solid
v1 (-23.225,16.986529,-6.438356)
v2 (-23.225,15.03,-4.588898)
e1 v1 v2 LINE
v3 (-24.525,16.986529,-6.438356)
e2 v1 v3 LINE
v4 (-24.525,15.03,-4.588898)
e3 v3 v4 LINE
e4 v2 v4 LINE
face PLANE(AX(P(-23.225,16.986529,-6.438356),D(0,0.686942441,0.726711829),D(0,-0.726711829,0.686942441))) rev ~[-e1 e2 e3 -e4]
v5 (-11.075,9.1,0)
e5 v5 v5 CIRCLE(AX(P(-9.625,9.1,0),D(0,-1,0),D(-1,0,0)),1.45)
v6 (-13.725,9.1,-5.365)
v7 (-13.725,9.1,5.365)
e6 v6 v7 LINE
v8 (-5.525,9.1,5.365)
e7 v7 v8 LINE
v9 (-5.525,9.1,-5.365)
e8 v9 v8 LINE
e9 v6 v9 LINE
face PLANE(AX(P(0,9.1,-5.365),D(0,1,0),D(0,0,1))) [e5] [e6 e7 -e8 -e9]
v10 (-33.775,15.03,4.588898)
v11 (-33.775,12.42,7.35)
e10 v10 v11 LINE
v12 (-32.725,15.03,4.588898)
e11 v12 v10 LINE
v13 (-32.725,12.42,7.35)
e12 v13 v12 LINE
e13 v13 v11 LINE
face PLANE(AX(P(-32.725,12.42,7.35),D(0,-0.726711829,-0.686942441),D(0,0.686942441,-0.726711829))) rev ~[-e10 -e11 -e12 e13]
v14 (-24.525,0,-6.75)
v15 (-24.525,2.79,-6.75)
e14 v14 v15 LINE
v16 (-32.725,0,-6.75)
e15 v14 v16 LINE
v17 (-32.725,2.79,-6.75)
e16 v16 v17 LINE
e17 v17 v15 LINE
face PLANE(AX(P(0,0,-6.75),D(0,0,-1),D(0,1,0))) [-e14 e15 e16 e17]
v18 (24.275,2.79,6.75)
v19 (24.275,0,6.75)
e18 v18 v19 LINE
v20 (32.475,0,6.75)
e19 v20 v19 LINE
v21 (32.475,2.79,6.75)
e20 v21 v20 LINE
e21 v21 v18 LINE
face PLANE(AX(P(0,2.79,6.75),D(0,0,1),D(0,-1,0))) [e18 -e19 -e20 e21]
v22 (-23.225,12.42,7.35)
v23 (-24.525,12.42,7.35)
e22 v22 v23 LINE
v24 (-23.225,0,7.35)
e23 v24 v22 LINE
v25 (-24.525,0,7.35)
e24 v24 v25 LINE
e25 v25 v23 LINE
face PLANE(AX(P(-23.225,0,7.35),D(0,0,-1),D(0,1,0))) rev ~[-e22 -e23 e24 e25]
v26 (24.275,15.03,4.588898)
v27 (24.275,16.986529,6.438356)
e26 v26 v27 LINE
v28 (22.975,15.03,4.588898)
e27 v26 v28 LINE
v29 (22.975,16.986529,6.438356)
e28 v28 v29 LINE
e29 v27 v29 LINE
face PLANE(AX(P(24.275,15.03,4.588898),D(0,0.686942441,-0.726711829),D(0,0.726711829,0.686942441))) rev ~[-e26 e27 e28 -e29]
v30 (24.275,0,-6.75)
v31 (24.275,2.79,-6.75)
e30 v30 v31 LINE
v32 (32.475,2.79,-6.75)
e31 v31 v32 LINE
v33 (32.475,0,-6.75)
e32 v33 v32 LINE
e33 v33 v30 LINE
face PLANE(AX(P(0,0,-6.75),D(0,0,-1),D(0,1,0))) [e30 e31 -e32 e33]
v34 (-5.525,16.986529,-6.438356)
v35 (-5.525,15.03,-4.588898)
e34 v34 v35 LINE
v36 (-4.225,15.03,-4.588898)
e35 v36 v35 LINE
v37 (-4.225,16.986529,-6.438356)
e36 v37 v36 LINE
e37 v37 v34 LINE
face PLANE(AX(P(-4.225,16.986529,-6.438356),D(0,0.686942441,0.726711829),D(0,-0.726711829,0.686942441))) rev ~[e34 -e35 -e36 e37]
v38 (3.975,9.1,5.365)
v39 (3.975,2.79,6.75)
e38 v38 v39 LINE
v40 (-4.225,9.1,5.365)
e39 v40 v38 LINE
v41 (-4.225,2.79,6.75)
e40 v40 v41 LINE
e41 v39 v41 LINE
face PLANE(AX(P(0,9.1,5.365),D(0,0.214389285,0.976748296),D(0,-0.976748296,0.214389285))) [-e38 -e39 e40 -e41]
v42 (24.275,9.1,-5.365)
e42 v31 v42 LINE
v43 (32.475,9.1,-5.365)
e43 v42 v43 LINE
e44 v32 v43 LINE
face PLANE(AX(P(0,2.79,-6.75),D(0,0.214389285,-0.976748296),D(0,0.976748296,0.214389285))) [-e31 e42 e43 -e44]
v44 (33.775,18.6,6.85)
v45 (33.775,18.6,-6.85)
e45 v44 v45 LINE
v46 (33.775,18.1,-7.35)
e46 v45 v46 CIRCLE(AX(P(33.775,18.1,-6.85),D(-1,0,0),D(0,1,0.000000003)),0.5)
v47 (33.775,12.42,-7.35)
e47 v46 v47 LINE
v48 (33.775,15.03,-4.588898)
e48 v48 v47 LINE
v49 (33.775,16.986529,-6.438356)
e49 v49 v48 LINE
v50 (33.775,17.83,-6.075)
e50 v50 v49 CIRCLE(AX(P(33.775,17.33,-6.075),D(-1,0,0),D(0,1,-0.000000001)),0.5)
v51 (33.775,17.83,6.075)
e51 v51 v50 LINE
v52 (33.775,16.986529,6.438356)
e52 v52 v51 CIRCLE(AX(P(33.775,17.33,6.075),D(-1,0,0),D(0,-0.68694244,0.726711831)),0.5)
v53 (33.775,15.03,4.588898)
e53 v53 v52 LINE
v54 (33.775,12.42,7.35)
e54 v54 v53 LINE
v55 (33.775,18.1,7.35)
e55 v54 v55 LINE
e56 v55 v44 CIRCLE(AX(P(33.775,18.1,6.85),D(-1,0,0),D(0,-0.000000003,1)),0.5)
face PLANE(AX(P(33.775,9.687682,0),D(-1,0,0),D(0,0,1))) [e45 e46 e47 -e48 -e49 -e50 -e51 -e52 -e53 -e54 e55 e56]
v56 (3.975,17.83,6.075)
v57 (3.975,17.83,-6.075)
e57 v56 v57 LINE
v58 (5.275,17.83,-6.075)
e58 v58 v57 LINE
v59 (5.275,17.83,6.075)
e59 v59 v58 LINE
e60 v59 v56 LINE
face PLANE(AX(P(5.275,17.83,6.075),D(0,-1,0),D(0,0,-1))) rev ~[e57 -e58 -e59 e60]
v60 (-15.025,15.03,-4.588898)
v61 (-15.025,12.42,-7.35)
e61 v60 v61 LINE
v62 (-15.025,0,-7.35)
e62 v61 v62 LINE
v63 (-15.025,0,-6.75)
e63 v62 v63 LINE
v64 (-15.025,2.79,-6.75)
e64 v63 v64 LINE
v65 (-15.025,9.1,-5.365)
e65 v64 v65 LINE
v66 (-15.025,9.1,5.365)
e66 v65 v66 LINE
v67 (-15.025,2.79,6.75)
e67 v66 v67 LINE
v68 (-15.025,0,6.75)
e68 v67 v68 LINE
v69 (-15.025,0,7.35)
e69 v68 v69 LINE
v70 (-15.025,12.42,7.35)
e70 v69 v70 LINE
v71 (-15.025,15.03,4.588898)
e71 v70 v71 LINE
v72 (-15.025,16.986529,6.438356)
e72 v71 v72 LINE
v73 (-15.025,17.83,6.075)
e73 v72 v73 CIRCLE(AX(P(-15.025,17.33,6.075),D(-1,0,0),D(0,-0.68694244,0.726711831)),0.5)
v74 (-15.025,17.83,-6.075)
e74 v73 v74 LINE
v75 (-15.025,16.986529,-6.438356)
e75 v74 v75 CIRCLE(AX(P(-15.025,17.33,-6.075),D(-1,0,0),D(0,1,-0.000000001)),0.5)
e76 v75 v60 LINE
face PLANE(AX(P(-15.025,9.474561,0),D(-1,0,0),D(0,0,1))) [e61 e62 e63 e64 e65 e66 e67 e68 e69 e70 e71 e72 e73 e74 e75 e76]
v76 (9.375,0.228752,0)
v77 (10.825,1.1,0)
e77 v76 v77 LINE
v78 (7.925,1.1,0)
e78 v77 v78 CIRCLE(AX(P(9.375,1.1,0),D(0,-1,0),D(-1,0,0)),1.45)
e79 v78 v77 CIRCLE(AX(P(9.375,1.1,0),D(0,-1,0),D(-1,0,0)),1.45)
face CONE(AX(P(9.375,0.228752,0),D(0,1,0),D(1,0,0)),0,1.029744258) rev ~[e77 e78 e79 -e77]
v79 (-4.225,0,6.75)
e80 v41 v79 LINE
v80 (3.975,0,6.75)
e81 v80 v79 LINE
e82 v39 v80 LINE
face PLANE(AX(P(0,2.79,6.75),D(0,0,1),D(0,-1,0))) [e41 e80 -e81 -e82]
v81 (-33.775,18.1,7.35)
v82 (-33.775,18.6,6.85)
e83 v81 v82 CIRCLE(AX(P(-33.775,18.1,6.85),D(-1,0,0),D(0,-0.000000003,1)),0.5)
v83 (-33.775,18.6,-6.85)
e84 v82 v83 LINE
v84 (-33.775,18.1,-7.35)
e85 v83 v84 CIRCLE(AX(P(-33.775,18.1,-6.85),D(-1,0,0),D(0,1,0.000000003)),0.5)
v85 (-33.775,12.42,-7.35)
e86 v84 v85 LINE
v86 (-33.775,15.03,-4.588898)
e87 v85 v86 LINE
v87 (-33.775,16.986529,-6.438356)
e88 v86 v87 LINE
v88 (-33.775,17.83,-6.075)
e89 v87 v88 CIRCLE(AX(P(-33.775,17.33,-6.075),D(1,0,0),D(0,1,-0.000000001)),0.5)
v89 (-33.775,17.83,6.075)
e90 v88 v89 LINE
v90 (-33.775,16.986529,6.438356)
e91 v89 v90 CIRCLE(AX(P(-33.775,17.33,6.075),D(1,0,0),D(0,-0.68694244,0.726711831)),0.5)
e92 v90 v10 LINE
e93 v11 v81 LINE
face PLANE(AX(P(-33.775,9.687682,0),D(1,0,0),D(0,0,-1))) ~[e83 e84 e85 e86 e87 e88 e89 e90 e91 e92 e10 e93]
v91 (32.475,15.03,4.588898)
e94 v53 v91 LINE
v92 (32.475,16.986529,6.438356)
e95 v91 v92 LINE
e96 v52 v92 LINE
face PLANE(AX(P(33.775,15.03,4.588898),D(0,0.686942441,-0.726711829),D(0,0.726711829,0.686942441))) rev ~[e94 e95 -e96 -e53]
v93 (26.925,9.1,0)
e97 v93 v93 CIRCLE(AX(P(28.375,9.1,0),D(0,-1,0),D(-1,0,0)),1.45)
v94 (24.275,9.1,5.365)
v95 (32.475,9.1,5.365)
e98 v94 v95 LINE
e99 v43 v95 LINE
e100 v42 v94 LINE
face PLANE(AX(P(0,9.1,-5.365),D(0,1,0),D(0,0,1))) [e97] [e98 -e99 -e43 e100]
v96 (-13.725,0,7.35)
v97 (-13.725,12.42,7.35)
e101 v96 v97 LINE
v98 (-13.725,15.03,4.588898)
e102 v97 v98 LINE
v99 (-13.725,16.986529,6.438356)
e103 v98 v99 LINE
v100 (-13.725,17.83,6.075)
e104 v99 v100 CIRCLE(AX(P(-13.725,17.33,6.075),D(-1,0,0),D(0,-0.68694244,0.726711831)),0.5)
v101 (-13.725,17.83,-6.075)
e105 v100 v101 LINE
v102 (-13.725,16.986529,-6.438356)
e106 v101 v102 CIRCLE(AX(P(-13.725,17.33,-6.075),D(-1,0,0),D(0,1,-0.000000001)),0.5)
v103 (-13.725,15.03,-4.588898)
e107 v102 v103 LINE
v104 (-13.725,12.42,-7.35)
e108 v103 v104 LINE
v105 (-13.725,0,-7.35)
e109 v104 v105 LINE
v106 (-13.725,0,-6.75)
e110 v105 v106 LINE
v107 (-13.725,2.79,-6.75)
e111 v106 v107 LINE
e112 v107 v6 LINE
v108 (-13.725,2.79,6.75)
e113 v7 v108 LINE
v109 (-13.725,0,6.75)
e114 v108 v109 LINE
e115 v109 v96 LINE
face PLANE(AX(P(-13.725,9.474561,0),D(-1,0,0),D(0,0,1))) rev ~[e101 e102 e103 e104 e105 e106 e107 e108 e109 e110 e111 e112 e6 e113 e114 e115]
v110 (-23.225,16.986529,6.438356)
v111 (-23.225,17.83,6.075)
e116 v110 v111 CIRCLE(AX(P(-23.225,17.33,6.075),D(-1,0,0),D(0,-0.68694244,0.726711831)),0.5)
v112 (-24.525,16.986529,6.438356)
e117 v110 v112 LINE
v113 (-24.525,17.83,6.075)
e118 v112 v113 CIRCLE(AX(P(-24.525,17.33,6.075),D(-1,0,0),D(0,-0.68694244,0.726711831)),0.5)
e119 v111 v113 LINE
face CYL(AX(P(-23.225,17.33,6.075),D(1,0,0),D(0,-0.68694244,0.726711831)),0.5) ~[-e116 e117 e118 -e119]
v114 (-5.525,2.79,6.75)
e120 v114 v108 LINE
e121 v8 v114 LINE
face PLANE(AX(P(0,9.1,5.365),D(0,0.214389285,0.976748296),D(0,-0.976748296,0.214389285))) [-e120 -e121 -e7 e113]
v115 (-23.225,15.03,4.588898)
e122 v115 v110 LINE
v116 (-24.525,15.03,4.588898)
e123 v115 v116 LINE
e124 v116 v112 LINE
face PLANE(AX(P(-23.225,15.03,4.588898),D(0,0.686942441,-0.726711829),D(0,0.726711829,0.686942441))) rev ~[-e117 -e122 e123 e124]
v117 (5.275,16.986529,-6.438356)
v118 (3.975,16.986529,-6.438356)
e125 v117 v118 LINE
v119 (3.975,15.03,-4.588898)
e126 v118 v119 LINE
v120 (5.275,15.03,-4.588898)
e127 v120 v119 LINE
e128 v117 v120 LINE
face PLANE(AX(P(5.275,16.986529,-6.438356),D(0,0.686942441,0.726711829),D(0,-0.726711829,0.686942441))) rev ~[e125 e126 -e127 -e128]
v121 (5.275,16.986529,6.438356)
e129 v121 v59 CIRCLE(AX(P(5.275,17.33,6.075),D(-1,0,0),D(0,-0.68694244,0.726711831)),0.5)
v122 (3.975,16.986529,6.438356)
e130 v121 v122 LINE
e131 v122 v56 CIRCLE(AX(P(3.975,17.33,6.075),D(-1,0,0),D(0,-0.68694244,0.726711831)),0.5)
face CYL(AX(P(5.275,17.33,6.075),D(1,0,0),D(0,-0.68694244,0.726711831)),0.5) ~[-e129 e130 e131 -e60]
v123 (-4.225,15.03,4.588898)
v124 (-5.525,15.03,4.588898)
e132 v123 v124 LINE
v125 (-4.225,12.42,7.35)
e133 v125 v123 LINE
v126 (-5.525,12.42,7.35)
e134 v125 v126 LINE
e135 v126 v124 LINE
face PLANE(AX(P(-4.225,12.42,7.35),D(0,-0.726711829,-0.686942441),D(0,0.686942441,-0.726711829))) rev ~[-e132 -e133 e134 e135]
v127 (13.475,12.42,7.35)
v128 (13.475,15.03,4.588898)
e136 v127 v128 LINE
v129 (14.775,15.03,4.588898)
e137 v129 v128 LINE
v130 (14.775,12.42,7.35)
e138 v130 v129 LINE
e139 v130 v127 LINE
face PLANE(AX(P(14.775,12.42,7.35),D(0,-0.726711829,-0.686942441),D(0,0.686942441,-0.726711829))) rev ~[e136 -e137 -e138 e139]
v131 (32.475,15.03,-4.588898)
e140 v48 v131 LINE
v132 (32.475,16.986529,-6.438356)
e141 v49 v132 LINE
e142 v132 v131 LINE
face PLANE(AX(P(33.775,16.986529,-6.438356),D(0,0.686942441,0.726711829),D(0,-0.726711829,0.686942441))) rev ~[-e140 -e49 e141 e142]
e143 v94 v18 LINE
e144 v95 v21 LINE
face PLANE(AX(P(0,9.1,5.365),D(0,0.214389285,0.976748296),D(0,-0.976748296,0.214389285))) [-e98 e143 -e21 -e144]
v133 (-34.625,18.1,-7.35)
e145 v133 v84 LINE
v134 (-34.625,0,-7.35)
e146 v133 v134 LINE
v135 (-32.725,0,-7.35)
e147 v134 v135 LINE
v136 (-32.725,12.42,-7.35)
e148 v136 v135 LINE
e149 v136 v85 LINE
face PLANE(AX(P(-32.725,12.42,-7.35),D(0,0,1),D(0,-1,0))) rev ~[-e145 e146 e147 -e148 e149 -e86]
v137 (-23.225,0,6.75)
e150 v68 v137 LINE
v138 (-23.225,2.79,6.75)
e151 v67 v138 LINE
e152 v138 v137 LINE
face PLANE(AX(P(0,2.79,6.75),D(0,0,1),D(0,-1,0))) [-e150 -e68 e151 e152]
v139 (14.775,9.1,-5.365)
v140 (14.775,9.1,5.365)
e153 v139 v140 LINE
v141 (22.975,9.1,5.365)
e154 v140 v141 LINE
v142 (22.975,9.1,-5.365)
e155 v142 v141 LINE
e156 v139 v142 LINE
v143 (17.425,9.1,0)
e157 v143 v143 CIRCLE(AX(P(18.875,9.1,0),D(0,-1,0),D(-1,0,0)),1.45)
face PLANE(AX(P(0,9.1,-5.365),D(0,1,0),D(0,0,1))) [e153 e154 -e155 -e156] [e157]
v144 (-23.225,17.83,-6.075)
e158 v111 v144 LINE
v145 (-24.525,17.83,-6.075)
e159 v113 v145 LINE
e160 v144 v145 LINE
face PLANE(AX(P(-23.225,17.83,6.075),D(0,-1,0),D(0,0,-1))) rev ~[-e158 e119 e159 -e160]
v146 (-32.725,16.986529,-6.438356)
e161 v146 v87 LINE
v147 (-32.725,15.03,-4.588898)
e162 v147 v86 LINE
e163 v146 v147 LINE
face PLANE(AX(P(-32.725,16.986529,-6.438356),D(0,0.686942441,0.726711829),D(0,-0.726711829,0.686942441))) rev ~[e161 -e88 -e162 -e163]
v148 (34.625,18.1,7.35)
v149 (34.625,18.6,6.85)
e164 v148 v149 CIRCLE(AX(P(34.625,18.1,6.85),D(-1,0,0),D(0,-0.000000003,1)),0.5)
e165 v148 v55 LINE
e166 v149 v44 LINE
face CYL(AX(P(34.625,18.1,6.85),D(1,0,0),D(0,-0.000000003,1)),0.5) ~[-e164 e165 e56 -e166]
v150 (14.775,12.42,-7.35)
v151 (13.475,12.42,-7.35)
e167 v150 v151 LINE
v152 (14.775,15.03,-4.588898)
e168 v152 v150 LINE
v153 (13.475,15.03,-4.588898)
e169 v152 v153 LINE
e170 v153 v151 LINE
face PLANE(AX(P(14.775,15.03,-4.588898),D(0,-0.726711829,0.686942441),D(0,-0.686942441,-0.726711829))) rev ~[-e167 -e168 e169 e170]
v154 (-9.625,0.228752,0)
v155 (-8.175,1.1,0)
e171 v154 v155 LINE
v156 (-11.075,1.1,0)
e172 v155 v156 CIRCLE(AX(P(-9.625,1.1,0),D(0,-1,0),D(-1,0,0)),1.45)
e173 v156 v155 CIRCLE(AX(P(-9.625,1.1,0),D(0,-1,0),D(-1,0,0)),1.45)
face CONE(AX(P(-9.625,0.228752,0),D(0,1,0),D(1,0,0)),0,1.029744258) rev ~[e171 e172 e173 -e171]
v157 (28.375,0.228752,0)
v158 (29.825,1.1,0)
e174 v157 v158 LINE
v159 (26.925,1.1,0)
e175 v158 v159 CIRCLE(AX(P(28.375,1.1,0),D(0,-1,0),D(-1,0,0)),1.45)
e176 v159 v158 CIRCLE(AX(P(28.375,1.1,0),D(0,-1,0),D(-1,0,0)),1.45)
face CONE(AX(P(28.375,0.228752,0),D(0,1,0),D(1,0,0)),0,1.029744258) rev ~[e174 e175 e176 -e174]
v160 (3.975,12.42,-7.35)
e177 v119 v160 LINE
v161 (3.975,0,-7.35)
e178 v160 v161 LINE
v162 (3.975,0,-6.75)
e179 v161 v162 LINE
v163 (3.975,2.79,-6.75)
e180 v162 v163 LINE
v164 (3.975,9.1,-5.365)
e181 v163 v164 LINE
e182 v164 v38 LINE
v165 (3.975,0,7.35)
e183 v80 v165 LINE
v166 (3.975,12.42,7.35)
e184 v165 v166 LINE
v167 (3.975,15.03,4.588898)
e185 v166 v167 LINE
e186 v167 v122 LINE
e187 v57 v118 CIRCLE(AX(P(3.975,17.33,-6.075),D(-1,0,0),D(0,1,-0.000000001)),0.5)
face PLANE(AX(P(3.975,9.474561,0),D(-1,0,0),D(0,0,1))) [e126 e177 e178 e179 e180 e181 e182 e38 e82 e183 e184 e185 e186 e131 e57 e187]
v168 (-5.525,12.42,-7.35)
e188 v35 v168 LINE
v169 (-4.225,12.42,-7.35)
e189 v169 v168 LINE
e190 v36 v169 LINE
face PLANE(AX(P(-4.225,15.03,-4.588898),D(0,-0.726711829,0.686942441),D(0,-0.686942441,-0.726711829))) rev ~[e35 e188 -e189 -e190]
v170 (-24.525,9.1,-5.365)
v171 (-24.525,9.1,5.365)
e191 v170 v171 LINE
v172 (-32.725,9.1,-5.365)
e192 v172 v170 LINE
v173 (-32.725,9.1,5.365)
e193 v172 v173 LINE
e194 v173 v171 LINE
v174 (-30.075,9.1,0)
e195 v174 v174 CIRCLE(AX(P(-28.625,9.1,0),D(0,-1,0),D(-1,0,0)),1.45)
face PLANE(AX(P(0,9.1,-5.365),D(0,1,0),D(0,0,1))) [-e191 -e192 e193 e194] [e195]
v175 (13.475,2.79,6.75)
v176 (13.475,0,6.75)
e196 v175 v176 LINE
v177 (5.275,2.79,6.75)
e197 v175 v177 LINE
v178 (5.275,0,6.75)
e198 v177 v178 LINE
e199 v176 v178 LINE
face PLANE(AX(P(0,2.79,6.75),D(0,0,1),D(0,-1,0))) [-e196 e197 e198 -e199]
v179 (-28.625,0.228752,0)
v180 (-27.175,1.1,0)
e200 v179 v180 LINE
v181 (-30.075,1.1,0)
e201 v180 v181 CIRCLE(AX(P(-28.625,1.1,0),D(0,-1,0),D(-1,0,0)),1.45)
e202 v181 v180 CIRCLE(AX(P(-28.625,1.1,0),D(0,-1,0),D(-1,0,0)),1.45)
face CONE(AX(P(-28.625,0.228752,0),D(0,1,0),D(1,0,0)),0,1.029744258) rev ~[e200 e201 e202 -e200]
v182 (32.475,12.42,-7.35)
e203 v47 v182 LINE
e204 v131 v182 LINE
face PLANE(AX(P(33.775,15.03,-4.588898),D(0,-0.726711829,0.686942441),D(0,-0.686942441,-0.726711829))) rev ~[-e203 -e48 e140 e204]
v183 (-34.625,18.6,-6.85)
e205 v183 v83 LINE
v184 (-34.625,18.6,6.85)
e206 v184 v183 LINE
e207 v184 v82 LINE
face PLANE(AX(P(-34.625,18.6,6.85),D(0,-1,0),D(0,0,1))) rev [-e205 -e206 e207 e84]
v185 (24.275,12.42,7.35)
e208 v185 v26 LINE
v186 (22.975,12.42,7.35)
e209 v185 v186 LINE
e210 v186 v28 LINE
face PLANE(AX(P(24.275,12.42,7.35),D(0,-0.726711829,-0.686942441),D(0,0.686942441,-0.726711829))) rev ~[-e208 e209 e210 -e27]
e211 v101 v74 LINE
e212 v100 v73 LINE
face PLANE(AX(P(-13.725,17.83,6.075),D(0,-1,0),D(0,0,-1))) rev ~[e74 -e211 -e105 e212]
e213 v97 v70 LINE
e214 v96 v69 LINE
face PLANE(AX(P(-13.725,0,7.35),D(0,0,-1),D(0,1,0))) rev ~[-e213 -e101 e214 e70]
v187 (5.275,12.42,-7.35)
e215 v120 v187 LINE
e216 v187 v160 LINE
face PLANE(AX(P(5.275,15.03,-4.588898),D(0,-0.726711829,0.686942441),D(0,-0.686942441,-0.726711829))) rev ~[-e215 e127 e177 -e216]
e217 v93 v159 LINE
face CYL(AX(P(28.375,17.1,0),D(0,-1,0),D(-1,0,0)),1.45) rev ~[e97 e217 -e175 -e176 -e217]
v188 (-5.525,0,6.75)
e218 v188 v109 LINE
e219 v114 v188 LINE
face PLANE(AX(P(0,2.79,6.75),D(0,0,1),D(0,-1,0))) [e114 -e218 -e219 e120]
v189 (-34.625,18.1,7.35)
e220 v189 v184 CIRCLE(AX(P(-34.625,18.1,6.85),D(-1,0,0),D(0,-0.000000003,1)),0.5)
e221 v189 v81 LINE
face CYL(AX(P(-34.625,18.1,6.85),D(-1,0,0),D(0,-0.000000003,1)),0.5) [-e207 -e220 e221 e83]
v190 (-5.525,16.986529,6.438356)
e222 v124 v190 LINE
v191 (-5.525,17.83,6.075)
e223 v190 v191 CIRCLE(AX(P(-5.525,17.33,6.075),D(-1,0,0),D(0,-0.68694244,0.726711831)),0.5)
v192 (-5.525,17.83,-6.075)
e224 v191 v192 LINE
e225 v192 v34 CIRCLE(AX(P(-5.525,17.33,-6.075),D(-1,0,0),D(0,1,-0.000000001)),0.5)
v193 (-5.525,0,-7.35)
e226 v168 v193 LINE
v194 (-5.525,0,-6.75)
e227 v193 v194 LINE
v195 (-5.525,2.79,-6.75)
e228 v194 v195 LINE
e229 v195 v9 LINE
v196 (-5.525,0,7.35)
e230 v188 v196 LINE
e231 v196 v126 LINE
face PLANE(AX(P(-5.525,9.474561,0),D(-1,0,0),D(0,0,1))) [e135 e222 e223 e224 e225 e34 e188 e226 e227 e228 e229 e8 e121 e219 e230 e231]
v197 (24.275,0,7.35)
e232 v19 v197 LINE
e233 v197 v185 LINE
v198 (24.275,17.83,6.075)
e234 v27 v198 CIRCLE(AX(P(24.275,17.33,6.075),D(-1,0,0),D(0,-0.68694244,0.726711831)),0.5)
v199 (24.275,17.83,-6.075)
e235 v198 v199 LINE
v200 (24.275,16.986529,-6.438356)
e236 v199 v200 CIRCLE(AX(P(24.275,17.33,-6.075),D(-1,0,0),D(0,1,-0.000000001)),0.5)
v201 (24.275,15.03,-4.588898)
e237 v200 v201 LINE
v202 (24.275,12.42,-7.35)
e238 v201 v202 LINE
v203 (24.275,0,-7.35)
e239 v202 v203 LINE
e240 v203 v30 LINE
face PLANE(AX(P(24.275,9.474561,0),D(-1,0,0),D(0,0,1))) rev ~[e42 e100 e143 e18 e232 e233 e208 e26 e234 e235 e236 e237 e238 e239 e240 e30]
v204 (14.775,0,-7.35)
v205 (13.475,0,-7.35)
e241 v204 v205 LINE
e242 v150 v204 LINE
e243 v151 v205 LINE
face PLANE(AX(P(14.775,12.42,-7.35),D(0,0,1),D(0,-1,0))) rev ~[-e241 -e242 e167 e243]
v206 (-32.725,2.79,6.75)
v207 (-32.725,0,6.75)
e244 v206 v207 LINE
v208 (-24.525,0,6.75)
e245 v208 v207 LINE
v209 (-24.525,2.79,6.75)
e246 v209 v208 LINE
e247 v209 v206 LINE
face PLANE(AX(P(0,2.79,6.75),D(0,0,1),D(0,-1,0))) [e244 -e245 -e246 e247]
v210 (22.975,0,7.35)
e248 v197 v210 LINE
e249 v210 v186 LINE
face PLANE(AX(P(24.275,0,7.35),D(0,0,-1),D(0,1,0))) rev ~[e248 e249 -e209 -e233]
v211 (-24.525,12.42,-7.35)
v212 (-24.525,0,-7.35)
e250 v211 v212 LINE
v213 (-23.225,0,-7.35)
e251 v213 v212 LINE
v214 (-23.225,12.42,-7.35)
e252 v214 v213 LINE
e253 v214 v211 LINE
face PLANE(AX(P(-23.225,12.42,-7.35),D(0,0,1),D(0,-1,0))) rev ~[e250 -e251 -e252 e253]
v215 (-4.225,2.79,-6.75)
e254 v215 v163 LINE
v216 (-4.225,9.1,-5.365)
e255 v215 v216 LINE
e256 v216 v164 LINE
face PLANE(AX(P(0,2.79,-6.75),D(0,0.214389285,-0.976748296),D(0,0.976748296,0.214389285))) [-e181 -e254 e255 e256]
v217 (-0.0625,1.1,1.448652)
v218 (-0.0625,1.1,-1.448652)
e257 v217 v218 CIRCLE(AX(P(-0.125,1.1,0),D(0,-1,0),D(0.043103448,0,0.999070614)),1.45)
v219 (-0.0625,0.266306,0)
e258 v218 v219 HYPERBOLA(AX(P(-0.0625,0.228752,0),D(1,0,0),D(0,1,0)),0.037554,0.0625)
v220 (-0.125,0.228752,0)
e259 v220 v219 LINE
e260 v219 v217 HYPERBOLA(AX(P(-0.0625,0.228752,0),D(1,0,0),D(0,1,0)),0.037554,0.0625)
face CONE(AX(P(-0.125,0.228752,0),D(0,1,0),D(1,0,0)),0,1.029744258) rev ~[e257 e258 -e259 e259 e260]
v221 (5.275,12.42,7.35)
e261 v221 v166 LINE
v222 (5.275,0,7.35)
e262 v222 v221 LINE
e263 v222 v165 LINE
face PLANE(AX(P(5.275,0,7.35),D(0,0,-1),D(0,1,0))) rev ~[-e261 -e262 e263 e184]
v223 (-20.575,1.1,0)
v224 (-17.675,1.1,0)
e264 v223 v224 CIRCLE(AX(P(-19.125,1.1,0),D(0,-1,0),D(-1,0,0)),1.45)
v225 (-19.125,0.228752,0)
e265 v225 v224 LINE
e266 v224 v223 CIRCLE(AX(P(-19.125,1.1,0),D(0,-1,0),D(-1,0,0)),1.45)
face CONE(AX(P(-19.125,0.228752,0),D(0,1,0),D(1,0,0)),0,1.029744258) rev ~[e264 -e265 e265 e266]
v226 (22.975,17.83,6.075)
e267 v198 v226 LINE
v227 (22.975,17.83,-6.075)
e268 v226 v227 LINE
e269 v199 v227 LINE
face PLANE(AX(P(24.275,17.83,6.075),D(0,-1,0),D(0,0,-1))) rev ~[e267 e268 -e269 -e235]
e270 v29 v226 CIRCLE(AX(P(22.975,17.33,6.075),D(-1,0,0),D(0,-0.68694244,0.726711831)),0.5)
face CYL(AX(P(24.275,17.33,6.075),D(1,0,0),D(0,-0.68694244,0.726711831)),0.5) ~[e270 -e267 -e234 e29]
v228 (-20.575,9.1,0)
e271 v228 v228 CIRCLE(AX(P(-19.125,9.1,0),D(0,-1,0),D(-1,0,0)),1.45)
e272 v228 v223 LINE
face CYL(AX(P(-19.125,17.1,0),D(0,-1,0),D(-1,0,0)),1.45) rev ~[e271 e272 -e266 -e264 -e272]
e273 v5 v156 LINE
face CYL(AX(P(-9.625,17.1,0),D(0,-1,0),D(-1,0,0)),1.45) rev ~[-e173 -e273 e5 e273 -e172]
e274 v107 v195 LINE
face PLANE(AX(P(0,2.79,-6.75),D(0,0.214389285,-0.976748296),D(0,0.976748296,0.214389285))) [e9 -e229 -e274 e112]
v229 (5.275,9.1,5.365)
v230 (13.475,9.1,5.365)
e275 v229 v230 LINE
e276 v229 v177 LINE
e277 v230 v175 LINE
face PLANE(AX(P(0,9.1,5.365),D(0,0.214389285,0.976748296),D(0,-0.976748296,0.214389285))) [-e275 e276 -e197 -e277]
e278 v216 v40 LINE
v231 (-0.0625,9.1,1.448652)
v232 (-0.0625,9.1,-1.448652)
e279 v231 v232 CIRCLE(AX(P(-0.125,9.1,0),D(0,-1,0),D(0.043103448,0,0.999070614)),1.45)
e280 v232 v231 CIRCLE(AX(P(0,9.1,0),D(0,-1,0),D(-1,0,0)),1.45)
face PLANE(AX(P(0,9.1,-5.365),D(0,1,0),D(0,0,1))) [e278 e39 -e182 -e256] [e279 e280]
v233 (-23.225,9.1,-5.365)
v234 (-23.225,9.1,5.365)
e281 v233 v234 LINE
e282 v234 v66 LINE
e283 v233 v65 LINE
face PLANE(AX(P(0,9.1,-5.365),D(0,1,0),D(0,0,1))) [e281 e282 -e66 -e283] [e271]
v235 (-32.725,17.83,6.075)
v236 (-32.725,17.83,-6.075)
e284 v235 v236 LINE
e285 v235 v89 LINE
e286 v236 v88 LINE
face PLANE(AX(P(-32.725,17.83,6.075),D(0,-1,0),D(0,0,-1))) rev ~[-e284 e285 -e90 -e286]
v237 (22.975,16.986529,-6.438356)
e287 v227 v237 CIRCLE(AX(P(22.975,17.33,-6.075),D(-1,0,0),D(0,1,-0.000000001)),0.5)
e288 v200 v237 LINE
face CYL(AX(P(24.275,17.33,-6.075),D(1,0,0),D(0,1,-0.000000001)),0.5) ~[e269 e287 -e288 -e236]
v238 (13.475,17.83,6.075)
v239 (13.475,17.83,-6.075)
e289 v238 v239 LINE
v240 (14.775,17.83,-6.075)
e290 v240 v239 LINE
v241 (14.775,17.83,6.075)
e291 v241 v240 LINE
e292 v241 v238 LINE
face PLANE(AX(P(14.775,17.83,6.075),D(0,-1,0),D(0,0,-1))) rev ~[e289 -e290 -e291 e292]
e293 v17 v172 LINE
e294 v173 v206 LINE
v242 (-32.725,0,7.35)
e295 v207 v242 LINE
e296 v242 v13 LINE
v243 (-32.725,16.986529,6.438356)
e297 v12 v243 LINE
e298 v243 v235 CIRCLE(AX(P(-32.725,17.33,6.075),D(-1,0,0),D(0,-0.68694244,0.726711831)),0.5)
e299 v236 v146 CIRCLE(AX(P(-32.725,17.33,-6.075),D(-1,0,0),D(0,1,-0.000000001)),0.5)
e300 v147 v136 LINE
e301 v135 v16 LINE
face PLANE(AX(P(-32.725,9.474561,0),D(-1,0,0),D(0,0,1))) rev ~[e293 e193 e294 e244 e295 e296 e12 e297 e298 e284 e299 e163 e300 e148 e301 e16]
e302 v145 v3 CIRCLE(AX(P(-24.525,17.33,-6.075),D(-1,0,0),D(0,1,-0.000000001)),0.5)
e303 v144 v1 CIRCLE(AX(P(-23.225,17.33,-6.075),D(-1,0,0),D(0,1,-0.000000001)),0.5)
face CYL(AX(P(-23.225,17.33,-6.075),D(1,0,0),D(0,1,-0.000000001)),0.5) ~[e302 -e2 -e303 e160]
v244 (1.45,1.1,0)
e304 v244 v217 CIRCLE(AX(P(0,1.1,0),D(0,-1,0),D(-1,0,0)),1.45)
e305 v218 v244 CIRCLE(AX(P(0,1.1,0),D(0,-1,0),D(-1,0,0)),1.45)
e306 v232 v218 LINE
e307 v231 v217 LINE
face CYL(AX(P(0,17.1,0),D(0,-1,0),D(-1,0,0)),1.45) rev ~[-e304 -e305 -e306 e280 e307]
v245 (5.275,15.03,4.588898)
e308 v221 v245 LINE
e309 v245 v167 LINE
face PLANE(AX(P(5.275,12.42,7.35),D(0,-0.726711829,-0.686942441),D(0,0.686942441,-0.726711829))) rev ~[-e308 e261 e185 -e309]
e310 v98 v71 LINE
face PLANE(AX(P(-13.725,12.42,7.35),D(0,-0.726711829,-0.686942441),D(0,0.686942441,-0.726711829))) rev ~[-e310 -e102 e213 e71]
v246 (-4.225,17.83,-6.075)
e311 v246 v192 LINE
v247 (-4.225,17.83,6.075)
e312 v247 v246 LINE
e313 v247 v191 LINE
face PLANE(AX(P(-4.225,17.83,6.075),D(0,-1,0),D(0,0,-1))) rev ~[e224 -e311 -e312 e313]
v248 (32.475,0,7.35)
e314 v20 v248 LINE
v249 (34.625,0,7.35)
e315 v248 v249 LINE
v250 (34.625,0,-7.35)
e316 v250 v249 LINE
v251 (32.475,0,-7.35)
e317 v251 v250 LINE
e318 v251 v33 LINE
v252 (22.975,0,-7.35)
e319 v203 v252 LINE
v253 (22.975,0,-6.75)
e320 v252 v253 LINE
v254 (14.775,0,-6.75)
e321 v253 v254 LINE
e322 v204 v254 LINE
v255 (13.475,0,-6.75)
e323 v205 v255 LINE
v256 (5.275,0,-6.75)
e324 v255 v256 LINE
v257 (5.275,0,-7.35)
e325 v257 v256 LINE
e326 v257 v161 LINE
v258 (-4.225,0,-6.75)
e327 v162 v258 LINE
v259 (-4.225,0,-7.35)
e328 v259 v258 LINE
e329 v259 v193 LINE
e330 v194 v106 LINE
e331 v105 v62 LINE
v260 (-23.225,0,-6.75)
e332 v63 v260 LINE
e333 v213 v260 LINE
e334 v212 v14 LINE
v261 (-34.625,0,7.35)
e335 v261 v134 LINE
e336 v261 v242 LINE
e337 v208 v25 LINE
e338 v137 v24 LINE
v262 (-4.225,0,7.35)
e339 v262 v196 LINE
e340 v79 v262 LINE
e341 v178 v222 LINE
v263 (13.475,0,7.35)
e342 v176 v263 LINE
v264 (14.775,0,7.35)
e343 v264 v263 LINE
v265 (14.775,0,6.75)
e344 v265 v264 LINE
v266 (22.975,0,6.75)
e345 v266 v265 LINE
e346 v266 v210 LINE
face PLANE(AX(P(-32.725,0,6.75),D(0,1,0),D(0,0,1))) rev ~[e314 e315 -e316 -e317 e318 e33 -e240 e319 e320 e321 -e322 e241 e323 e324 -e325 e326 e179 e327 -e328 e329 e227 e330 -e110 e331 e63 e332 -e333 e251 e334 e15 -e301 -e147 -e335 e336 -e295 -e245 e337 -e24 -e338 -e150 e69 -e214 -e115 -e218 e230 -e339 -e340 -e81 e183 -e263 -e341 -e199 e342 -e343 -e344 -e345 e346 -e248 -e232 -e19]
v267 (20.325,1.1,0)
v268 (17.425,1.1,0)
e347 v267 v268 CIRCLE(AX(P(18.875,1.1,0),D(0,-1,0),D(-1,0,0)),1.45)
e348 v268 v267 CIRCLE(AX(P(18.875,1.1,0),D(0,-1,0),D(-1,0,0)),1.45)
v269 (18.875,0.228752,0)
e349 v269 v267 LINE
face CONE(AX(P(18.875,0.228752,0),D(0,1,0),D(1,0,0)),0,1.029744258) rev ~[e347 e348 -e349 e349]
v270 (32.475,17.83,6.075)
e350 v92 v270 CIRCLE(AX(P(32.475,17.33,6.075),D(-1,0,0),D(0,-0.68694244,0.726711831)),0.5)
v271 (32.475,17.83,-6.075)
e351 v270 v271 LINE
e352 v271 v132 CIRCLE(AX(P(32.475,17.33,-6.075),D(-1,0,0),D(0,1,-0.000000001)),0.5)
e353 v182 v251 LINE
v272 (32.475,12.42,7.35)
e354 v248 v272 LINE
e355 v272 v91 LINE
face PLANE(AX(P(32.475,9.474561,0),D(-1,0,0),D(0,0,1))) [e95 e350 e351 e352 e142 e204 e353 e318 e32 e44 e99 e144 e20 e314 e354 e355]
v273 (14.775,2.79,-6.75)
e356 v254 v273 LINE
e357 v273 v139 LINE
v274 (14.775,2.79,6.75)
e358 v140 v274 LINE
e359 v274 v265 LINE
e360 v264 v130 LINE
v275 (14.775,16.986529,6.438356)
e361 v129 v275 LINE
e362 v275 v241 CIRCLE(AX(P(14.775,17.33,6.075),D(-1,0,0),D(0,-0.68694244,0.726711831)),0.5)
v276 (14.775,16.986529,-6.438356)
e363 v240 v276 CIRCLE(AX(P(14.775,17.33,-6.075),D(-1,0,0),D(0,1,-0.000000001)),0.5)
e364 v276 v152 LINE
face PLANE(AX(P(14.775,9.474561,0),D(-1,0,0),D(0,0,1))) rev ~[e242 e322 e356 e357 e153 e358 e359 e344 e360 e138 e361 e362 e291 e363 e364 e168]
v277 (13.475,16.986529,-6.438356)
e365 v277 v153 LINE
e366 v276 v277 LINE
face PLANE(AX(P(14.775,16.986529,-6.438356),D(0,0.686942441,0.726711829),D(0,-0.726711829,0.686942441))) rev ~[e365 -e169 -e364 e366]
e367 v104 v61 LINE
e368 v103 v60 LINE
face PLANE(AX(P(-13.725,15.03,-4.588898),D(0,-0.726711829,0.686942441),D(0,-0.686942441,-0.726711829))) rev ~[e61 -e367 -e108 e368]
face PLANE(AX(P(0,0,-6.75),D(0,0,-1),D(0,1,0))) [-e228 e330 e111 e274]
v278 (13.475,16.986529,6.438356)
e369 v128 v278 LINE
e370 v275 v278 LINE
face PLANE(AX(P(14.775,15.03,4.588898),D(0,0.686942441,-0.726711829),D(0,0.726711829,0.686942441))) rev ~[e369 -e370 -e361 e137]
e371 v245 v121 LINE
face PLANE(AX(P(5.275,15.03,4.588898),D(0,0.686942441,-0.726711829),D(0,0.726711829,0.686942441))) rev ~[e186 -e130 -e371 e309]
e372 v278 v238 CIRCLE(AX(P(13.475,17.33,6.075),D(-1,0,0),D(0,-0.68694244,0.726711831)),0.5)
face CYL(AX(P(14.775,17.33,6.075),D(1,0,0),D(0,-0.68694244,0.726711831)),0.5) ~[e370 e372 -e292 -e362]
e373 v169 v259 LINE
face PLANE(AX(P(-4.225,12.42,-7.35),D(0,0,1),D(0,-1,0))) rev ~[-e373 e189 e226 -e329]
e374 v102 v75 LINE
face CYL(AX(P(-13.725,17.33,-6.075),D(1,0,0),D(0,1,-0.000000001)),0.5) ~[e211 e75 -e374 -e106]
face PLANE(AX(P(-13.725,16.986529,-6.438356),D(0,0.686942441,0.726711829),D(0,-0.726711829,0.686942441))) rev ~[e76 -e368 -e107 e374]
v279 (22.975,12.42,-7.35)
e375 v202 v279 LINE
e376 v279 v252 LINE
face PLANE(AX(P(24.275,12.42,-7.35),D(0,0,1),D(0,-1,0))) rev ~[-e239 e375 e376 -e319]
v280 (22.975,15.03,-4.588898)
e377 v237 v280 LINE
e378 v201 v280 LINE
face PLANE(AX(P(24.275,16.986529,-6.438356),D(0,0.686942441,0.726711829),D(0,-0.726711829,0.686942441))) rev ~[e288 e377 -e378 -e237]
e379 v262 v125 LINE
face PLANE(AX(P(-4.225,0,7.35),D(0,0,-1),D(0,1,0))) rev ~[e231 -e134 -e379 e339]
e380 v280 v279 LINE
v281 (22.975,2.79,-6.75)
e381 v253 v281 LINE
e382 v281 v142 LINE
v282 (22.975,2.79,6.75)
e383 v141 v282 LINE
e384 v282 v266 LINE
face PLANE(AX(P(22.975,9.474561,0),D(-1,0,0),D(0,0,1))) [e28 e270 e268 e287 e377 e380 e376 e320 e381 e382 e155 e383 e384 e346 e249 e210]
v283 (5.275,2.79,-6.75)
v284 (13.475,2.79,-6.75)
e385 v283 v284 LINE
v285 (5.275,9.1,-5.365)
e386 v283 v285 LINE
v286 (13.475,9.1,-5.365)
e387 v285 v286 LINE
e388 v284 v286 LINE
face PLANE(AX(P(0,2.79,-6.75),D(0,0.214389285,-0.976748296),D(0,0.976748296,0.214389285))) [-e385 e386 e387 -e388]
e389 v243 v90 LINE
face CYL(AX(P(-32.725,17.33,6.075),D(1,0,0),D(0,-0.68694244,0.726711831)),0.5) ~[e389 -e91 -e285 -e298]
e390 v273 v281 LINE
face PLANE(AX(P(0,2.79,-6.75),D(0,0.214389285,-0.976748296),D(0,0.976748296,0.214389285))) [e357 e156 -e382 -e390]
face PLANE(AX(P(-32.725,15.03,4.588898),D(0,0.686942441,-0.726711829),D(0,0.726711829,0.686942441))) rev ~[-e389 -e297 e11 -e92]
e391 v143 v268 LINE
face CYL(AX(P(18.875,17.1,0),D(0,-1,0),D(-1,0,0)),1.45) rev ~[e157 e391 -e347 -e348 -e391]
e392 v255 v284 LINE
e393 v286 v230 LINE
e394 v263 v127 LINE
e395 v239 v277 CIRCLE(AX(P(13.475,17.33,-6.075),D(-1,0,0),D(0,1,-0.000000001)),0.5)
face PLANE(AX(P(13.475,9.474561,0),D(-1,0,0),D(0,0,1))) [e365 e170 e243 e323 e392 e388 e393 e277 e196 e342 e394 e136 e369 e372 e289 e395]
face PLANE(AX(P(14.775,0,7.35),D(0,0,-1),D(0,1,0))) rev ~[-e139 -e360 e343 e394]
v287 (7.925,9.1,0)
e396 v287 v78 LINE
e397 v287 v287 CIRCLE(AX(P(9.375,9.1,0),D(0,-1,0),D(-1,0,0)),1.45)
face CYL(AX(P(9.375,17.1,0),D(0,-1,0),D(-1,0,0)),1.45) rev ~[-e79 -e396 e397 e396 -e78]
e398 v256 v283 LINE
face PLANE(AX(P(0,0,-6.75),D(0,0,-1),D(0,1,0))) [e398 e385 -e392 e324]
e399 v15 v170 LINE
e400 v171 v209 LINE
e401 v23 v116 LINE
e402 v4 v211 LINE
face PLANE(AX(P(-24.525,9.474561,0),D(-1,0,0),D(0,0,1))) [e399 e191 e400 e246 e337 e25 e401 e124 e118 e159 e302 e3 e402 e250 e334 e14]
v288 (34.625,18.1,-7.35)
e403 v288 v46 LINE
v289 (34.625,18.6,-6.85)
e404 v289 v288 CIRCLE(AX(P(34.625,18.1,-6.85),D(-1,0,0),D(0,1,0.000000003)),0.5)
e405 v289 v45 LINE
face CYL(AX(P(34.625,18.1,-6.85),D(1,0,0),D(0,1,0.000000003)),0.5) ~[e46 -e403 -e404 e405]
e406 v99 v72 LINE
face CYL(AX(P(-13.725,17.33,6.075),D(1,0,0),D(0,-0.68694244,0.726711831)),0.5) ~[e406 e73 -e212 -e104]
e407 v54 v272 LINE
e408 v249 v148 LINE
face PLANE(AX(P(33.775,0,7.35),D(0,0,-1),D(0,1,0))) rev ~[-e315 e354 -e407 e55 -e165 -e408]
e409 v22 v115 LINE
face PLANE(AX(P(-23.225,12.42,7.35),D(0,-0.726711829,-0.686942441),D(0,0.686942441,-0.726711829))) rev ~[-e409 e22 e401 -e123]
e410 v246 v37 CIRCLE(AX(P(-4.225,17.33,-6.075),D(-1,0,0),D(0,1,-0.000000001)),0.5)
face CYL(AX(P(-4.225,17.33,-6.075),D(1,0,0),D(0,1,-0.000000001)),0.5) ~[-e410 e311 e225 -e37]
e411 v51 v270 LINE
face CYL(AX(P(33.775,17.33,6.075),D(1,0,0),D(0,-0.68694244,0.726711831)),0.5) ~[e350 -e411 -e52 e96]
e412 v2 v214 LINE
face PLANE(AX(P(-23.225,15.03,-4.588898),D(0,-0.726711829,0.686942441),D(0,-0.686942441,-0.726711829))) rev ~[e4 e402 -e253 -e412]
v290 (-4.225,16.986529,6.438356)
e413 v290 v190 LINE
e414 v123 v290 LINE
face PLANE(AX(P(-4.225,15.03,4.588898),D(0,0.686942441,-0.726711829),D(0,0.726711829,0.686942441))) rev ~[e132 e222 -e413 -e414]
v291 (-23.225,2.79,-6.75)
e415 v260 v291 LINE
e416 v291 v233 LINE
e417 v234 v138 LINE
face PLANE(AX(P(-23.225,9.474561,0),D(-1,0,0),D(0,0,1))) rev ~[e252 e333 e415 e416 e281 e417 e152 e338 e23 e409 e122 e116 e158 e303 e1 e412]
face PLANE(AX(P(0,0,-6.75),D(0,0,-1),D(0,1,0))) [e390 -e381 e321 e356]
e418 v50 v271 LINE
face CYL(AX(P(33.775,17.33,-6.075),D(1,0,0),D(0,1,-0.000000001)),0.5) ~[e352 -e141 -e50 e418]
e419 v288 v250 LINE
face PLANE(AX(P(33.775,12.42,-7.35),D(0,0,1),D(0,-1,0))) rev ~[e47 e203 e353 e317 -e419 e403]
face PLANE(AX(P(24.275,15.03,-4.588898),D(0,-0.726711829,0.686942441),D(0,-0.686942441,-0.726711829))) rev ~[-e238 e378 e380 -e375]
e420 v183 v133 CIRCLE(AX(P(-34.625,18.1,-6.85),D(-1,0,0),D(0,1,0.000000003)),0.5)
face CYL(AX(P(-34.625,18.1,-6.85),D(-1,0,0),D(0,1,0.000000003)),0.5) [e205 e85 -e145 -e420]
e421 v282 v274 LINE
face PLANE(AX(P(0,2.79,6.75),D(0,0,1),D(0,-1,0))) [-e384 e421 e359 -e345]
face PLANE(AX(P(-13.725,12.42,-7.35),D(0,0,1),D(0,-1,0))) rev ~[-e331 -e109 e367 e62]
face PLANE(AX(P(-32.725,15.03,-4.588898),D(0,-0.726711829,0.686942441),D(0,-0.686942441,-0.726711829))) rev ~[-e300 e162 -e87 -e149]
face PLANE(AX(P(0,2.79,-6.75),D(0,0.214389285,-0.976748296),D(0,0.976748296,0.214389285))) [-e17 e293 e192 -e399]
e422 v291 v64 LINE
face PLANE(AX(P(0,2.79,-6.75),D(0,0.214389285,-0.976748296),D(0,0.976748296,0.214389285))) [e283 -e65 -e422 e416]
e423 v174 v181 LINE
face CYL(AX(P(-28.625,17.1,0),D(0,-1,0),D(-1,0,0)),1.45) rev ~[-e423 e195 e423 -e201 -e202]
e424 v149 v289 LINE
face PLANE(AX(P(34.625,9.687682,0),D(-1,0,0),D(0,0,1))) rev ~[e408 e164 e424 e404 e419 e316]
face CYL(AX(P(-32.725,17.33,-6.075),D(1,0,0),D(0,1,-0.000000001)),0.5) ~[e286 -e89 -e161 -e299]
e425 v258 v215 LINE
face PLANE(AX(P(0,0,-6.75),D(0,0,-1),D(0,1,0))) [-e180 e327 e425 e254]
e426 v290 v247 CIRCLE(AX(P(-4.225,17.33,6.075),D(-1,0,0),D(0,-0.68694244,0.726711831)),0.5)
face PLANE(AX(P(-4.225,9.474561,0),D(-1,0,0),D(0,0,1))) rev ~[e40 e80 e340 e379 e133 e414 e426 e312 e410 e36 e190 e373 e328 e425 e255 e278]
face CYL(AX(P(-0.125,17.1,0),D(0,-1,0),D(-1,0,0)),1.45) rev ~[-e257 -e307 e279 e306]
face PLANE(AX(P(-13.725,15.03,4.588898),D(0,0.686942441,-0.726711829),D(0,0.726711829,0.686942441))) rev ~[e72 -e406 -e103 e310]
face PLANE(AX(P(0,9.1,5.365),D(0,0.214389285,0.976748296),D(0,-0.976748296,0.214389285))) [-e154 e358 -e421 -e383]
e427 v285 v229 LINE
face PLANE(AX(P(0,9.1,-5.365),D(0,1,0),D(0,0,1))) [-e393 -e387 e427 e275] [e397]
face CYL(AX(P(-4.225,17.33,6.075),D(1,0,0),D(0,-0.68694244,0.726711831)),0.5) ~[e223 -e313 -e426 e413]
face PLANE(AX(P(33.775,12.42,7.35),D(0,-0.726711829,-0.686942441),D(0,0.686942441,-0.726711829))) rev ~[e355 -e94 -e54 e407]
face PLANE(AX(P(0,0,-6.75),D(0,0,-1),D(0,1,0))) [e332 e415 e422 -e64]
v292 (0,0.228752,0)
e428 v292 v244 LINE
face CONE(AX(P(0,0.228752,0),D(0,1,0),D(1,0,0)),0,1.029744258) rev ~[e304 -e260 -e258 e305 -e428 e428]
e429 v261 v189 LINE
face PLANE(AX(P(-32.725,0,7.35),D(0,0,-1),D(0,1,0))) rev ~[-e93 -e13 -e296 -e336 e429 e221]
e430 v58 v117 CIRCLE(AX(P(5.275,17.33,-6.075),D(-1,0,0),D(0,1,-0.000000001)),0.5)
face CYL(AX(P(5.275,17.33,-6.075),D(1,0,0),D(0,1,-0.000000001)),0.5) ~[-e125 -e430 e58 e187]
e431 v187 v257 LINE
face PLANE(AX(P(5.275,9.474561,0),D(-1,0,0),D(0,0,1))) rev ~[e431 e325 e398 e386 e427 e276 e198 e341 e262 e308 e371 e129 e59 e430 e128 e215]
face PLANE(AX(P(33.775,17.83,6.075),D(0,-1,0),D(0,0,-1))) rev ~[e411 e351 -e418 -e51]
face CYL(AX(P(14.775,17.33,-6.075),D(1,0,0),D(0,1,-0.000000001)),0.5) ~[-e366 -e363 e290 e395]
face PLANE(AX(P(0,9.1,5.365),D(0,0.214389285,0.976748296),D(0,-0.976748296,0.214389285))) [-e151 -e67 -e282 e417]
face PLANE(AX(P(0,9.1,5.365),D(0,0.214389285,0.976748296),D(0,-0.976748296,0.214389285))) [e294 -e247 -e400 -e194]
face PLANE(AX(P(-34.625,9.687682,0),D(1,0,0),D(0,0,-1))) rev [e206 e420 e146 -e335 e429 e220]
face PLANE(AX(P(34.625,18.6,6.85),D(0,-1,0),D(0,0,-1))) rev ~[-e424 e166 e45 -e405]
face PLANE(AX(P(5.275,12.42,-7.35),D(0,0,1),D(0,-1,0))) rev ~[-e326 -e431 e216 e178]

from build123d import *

# Parameters (mm, degrees)
BOSS_EXTRUDE1_DEPTH         = 34.625
BOSS_EXTRUDE2_DEPTH         = 0.85
BOSS_EXTRUDE3_DEPTH         = 1.3
LPATTERN1_COUNT             = 8
LPATTERN1_PITCH             = 9.5
M3_5X0_6_TAPPED_HOLE1_D     = 2.9
M3_5X0_6_TAPPED_HOLE1_DEPTH = 8
M3_5X0_6_TAPPED_HOLE1_TIP   = 0.871247898


with BuildPart() as part:
    # Sketch1 → Boss-Extrude1 (new body, symmetric)
    with BuildSketch(Plane(origin=(0, 0, 0), x_dir=(0, 0, -1), z_dir=(1, 0, 0))):
        Polygon((6.75, 0), (6.75, 2.79), (5.365, 9.1), (-5.365, 9.1), (-6.75, 2.79), (-6.75, 0), align=None)
    extrude(amount=BOSS_EXTRUDE1_DEPTH, both=True)

    # Sketch3 → Boss-Extrude2 (add)
    with BuildSketch(Plane(origin=(34.625, 0, 0), x_dir=(0, 0, -1), z_dir=(1, 0, 0))):
        with BuildLine():
            Line((-6.75, 0), (-7.35, 0))
            Line((-7.35, 0), (-7.35, 18.1))
            ThreePointArc((-7.35, 18.1), (-7.203553391, 18.453553391), (-6.85, 18.6))
            Line((-6.85, 18.6), (6.85, 18.6))
            ThreePointArc((6.85, 18.6), (7.203553391, 18.453553391), (7.35, 18.1))
            Line((7.35, 18.1), (7.35, 0))
            Line((7.35, 0), (6.75, 0))
            Line((6.75, 0), (6.75, 2.79))
            Line((6.75, 2.79), (5.365, 9.1))
            Line((5.365, 9.1), (-5.365, 9.1))
            Line((-5.365, 9.1), (-6.75, 2.79))
            Line((-6.75, 2.79), (-6.75, 0))
        make_face()
    boss_extrude2 = extrude(amount=-BOSS_EXTRUDE2_DEPTH)

    # Mirror1: Boss-Extrude2 across plane
    add(boss_extrude2.mirror(Plane(origin=(0, 0, 0), x_dir=(0, 0, 1), z_dir=(1, 0, 0))))

    # Sketch4 → Boss-Extrude3 (add)
    with BuildSketch(Plane.ZY.offset(-33.775)):
        with BuildLine():
            Line((7.35, 0), (7.35, 12.42))
            Line((7.35, 12.42), (4.588898397, 15.03))
            Line((4.588898397, 15.03), (6.438355915, 16.98652878))
            ThreePointArc((6.438355915, 16.98652878), (6.534203446, 17.527818591), (6.075, 17.83))
            Line((6.075, 17.83), (-6.075, 17.83))
            ThreePointArc((-6.075, 17.83), (-6.534203446, 17.527818591), (-6.438355915, 16.98652878))
            Line((-6.438355915, 16.98652878), (-4.588898397, 15.03))
            Line((-4.588898397, 15.03), (-7.35, 12.42))
            Line((-7.35, 12.42), (-7.35, 0))
            Line((-7.35, 0), (-6.75, 0))
            Line((-6.75, 0), (-6.75, 2.79))
            Line((-6.75, 2.79), (-5.365, 9.1))
            Line((-5.365, 9.1), (5.365, 9.1))
            Line((5.365, 9.1), (6.75, 2.79))
            Line((6.75, 2.79), (6.75, 0))
            Line((6.75, 0), (7.35, 0))
        make_face()
    boss_extrude3 = extrude(amount=BOSS_EXTRUDE3_DEPTH)

    # LPattern1: Boss-Extrude3 ×8
    with Locations(*[(-i * LPATTERN1_PITCH, 0, 0) for i in range(1, LPATTERN1_COUNT)]):
        add(boss_extrude3)

    # M3.5x0.6 Tapped Hole1
    with Locations(Plane(origin=(0, 9.1, 0), x_dir=(1, 0, 0), z_dir=(0, 1, 0))):
        with Locations((-28.625, 0), (-19.125, 0), (0, 0), (-0.125, 0), (9.375, 0), (18.875, 0), (28.375, 0), (-9.625, 0)):
            Hole(M3_5X0_6_TAPPED_HOLE1_D / 2, depth=M3_5X0_6_TAPPED_HOLE1_DEPTH)
            with Locations((0, 0, -(M3_5X0_6_TAPPED_HOLE1_DEPTH + M3_5X0_6_TAPPED_HOLE1_TIP / 2))):  # 118° drill point
                Cone(0, M3_5X0_6_TAPPED_HOLE1_D / 2, M3_5X0_6_TAPPED_HOLE1_TIP, mode=Mode.SUBTRACT)


solid = part.part
